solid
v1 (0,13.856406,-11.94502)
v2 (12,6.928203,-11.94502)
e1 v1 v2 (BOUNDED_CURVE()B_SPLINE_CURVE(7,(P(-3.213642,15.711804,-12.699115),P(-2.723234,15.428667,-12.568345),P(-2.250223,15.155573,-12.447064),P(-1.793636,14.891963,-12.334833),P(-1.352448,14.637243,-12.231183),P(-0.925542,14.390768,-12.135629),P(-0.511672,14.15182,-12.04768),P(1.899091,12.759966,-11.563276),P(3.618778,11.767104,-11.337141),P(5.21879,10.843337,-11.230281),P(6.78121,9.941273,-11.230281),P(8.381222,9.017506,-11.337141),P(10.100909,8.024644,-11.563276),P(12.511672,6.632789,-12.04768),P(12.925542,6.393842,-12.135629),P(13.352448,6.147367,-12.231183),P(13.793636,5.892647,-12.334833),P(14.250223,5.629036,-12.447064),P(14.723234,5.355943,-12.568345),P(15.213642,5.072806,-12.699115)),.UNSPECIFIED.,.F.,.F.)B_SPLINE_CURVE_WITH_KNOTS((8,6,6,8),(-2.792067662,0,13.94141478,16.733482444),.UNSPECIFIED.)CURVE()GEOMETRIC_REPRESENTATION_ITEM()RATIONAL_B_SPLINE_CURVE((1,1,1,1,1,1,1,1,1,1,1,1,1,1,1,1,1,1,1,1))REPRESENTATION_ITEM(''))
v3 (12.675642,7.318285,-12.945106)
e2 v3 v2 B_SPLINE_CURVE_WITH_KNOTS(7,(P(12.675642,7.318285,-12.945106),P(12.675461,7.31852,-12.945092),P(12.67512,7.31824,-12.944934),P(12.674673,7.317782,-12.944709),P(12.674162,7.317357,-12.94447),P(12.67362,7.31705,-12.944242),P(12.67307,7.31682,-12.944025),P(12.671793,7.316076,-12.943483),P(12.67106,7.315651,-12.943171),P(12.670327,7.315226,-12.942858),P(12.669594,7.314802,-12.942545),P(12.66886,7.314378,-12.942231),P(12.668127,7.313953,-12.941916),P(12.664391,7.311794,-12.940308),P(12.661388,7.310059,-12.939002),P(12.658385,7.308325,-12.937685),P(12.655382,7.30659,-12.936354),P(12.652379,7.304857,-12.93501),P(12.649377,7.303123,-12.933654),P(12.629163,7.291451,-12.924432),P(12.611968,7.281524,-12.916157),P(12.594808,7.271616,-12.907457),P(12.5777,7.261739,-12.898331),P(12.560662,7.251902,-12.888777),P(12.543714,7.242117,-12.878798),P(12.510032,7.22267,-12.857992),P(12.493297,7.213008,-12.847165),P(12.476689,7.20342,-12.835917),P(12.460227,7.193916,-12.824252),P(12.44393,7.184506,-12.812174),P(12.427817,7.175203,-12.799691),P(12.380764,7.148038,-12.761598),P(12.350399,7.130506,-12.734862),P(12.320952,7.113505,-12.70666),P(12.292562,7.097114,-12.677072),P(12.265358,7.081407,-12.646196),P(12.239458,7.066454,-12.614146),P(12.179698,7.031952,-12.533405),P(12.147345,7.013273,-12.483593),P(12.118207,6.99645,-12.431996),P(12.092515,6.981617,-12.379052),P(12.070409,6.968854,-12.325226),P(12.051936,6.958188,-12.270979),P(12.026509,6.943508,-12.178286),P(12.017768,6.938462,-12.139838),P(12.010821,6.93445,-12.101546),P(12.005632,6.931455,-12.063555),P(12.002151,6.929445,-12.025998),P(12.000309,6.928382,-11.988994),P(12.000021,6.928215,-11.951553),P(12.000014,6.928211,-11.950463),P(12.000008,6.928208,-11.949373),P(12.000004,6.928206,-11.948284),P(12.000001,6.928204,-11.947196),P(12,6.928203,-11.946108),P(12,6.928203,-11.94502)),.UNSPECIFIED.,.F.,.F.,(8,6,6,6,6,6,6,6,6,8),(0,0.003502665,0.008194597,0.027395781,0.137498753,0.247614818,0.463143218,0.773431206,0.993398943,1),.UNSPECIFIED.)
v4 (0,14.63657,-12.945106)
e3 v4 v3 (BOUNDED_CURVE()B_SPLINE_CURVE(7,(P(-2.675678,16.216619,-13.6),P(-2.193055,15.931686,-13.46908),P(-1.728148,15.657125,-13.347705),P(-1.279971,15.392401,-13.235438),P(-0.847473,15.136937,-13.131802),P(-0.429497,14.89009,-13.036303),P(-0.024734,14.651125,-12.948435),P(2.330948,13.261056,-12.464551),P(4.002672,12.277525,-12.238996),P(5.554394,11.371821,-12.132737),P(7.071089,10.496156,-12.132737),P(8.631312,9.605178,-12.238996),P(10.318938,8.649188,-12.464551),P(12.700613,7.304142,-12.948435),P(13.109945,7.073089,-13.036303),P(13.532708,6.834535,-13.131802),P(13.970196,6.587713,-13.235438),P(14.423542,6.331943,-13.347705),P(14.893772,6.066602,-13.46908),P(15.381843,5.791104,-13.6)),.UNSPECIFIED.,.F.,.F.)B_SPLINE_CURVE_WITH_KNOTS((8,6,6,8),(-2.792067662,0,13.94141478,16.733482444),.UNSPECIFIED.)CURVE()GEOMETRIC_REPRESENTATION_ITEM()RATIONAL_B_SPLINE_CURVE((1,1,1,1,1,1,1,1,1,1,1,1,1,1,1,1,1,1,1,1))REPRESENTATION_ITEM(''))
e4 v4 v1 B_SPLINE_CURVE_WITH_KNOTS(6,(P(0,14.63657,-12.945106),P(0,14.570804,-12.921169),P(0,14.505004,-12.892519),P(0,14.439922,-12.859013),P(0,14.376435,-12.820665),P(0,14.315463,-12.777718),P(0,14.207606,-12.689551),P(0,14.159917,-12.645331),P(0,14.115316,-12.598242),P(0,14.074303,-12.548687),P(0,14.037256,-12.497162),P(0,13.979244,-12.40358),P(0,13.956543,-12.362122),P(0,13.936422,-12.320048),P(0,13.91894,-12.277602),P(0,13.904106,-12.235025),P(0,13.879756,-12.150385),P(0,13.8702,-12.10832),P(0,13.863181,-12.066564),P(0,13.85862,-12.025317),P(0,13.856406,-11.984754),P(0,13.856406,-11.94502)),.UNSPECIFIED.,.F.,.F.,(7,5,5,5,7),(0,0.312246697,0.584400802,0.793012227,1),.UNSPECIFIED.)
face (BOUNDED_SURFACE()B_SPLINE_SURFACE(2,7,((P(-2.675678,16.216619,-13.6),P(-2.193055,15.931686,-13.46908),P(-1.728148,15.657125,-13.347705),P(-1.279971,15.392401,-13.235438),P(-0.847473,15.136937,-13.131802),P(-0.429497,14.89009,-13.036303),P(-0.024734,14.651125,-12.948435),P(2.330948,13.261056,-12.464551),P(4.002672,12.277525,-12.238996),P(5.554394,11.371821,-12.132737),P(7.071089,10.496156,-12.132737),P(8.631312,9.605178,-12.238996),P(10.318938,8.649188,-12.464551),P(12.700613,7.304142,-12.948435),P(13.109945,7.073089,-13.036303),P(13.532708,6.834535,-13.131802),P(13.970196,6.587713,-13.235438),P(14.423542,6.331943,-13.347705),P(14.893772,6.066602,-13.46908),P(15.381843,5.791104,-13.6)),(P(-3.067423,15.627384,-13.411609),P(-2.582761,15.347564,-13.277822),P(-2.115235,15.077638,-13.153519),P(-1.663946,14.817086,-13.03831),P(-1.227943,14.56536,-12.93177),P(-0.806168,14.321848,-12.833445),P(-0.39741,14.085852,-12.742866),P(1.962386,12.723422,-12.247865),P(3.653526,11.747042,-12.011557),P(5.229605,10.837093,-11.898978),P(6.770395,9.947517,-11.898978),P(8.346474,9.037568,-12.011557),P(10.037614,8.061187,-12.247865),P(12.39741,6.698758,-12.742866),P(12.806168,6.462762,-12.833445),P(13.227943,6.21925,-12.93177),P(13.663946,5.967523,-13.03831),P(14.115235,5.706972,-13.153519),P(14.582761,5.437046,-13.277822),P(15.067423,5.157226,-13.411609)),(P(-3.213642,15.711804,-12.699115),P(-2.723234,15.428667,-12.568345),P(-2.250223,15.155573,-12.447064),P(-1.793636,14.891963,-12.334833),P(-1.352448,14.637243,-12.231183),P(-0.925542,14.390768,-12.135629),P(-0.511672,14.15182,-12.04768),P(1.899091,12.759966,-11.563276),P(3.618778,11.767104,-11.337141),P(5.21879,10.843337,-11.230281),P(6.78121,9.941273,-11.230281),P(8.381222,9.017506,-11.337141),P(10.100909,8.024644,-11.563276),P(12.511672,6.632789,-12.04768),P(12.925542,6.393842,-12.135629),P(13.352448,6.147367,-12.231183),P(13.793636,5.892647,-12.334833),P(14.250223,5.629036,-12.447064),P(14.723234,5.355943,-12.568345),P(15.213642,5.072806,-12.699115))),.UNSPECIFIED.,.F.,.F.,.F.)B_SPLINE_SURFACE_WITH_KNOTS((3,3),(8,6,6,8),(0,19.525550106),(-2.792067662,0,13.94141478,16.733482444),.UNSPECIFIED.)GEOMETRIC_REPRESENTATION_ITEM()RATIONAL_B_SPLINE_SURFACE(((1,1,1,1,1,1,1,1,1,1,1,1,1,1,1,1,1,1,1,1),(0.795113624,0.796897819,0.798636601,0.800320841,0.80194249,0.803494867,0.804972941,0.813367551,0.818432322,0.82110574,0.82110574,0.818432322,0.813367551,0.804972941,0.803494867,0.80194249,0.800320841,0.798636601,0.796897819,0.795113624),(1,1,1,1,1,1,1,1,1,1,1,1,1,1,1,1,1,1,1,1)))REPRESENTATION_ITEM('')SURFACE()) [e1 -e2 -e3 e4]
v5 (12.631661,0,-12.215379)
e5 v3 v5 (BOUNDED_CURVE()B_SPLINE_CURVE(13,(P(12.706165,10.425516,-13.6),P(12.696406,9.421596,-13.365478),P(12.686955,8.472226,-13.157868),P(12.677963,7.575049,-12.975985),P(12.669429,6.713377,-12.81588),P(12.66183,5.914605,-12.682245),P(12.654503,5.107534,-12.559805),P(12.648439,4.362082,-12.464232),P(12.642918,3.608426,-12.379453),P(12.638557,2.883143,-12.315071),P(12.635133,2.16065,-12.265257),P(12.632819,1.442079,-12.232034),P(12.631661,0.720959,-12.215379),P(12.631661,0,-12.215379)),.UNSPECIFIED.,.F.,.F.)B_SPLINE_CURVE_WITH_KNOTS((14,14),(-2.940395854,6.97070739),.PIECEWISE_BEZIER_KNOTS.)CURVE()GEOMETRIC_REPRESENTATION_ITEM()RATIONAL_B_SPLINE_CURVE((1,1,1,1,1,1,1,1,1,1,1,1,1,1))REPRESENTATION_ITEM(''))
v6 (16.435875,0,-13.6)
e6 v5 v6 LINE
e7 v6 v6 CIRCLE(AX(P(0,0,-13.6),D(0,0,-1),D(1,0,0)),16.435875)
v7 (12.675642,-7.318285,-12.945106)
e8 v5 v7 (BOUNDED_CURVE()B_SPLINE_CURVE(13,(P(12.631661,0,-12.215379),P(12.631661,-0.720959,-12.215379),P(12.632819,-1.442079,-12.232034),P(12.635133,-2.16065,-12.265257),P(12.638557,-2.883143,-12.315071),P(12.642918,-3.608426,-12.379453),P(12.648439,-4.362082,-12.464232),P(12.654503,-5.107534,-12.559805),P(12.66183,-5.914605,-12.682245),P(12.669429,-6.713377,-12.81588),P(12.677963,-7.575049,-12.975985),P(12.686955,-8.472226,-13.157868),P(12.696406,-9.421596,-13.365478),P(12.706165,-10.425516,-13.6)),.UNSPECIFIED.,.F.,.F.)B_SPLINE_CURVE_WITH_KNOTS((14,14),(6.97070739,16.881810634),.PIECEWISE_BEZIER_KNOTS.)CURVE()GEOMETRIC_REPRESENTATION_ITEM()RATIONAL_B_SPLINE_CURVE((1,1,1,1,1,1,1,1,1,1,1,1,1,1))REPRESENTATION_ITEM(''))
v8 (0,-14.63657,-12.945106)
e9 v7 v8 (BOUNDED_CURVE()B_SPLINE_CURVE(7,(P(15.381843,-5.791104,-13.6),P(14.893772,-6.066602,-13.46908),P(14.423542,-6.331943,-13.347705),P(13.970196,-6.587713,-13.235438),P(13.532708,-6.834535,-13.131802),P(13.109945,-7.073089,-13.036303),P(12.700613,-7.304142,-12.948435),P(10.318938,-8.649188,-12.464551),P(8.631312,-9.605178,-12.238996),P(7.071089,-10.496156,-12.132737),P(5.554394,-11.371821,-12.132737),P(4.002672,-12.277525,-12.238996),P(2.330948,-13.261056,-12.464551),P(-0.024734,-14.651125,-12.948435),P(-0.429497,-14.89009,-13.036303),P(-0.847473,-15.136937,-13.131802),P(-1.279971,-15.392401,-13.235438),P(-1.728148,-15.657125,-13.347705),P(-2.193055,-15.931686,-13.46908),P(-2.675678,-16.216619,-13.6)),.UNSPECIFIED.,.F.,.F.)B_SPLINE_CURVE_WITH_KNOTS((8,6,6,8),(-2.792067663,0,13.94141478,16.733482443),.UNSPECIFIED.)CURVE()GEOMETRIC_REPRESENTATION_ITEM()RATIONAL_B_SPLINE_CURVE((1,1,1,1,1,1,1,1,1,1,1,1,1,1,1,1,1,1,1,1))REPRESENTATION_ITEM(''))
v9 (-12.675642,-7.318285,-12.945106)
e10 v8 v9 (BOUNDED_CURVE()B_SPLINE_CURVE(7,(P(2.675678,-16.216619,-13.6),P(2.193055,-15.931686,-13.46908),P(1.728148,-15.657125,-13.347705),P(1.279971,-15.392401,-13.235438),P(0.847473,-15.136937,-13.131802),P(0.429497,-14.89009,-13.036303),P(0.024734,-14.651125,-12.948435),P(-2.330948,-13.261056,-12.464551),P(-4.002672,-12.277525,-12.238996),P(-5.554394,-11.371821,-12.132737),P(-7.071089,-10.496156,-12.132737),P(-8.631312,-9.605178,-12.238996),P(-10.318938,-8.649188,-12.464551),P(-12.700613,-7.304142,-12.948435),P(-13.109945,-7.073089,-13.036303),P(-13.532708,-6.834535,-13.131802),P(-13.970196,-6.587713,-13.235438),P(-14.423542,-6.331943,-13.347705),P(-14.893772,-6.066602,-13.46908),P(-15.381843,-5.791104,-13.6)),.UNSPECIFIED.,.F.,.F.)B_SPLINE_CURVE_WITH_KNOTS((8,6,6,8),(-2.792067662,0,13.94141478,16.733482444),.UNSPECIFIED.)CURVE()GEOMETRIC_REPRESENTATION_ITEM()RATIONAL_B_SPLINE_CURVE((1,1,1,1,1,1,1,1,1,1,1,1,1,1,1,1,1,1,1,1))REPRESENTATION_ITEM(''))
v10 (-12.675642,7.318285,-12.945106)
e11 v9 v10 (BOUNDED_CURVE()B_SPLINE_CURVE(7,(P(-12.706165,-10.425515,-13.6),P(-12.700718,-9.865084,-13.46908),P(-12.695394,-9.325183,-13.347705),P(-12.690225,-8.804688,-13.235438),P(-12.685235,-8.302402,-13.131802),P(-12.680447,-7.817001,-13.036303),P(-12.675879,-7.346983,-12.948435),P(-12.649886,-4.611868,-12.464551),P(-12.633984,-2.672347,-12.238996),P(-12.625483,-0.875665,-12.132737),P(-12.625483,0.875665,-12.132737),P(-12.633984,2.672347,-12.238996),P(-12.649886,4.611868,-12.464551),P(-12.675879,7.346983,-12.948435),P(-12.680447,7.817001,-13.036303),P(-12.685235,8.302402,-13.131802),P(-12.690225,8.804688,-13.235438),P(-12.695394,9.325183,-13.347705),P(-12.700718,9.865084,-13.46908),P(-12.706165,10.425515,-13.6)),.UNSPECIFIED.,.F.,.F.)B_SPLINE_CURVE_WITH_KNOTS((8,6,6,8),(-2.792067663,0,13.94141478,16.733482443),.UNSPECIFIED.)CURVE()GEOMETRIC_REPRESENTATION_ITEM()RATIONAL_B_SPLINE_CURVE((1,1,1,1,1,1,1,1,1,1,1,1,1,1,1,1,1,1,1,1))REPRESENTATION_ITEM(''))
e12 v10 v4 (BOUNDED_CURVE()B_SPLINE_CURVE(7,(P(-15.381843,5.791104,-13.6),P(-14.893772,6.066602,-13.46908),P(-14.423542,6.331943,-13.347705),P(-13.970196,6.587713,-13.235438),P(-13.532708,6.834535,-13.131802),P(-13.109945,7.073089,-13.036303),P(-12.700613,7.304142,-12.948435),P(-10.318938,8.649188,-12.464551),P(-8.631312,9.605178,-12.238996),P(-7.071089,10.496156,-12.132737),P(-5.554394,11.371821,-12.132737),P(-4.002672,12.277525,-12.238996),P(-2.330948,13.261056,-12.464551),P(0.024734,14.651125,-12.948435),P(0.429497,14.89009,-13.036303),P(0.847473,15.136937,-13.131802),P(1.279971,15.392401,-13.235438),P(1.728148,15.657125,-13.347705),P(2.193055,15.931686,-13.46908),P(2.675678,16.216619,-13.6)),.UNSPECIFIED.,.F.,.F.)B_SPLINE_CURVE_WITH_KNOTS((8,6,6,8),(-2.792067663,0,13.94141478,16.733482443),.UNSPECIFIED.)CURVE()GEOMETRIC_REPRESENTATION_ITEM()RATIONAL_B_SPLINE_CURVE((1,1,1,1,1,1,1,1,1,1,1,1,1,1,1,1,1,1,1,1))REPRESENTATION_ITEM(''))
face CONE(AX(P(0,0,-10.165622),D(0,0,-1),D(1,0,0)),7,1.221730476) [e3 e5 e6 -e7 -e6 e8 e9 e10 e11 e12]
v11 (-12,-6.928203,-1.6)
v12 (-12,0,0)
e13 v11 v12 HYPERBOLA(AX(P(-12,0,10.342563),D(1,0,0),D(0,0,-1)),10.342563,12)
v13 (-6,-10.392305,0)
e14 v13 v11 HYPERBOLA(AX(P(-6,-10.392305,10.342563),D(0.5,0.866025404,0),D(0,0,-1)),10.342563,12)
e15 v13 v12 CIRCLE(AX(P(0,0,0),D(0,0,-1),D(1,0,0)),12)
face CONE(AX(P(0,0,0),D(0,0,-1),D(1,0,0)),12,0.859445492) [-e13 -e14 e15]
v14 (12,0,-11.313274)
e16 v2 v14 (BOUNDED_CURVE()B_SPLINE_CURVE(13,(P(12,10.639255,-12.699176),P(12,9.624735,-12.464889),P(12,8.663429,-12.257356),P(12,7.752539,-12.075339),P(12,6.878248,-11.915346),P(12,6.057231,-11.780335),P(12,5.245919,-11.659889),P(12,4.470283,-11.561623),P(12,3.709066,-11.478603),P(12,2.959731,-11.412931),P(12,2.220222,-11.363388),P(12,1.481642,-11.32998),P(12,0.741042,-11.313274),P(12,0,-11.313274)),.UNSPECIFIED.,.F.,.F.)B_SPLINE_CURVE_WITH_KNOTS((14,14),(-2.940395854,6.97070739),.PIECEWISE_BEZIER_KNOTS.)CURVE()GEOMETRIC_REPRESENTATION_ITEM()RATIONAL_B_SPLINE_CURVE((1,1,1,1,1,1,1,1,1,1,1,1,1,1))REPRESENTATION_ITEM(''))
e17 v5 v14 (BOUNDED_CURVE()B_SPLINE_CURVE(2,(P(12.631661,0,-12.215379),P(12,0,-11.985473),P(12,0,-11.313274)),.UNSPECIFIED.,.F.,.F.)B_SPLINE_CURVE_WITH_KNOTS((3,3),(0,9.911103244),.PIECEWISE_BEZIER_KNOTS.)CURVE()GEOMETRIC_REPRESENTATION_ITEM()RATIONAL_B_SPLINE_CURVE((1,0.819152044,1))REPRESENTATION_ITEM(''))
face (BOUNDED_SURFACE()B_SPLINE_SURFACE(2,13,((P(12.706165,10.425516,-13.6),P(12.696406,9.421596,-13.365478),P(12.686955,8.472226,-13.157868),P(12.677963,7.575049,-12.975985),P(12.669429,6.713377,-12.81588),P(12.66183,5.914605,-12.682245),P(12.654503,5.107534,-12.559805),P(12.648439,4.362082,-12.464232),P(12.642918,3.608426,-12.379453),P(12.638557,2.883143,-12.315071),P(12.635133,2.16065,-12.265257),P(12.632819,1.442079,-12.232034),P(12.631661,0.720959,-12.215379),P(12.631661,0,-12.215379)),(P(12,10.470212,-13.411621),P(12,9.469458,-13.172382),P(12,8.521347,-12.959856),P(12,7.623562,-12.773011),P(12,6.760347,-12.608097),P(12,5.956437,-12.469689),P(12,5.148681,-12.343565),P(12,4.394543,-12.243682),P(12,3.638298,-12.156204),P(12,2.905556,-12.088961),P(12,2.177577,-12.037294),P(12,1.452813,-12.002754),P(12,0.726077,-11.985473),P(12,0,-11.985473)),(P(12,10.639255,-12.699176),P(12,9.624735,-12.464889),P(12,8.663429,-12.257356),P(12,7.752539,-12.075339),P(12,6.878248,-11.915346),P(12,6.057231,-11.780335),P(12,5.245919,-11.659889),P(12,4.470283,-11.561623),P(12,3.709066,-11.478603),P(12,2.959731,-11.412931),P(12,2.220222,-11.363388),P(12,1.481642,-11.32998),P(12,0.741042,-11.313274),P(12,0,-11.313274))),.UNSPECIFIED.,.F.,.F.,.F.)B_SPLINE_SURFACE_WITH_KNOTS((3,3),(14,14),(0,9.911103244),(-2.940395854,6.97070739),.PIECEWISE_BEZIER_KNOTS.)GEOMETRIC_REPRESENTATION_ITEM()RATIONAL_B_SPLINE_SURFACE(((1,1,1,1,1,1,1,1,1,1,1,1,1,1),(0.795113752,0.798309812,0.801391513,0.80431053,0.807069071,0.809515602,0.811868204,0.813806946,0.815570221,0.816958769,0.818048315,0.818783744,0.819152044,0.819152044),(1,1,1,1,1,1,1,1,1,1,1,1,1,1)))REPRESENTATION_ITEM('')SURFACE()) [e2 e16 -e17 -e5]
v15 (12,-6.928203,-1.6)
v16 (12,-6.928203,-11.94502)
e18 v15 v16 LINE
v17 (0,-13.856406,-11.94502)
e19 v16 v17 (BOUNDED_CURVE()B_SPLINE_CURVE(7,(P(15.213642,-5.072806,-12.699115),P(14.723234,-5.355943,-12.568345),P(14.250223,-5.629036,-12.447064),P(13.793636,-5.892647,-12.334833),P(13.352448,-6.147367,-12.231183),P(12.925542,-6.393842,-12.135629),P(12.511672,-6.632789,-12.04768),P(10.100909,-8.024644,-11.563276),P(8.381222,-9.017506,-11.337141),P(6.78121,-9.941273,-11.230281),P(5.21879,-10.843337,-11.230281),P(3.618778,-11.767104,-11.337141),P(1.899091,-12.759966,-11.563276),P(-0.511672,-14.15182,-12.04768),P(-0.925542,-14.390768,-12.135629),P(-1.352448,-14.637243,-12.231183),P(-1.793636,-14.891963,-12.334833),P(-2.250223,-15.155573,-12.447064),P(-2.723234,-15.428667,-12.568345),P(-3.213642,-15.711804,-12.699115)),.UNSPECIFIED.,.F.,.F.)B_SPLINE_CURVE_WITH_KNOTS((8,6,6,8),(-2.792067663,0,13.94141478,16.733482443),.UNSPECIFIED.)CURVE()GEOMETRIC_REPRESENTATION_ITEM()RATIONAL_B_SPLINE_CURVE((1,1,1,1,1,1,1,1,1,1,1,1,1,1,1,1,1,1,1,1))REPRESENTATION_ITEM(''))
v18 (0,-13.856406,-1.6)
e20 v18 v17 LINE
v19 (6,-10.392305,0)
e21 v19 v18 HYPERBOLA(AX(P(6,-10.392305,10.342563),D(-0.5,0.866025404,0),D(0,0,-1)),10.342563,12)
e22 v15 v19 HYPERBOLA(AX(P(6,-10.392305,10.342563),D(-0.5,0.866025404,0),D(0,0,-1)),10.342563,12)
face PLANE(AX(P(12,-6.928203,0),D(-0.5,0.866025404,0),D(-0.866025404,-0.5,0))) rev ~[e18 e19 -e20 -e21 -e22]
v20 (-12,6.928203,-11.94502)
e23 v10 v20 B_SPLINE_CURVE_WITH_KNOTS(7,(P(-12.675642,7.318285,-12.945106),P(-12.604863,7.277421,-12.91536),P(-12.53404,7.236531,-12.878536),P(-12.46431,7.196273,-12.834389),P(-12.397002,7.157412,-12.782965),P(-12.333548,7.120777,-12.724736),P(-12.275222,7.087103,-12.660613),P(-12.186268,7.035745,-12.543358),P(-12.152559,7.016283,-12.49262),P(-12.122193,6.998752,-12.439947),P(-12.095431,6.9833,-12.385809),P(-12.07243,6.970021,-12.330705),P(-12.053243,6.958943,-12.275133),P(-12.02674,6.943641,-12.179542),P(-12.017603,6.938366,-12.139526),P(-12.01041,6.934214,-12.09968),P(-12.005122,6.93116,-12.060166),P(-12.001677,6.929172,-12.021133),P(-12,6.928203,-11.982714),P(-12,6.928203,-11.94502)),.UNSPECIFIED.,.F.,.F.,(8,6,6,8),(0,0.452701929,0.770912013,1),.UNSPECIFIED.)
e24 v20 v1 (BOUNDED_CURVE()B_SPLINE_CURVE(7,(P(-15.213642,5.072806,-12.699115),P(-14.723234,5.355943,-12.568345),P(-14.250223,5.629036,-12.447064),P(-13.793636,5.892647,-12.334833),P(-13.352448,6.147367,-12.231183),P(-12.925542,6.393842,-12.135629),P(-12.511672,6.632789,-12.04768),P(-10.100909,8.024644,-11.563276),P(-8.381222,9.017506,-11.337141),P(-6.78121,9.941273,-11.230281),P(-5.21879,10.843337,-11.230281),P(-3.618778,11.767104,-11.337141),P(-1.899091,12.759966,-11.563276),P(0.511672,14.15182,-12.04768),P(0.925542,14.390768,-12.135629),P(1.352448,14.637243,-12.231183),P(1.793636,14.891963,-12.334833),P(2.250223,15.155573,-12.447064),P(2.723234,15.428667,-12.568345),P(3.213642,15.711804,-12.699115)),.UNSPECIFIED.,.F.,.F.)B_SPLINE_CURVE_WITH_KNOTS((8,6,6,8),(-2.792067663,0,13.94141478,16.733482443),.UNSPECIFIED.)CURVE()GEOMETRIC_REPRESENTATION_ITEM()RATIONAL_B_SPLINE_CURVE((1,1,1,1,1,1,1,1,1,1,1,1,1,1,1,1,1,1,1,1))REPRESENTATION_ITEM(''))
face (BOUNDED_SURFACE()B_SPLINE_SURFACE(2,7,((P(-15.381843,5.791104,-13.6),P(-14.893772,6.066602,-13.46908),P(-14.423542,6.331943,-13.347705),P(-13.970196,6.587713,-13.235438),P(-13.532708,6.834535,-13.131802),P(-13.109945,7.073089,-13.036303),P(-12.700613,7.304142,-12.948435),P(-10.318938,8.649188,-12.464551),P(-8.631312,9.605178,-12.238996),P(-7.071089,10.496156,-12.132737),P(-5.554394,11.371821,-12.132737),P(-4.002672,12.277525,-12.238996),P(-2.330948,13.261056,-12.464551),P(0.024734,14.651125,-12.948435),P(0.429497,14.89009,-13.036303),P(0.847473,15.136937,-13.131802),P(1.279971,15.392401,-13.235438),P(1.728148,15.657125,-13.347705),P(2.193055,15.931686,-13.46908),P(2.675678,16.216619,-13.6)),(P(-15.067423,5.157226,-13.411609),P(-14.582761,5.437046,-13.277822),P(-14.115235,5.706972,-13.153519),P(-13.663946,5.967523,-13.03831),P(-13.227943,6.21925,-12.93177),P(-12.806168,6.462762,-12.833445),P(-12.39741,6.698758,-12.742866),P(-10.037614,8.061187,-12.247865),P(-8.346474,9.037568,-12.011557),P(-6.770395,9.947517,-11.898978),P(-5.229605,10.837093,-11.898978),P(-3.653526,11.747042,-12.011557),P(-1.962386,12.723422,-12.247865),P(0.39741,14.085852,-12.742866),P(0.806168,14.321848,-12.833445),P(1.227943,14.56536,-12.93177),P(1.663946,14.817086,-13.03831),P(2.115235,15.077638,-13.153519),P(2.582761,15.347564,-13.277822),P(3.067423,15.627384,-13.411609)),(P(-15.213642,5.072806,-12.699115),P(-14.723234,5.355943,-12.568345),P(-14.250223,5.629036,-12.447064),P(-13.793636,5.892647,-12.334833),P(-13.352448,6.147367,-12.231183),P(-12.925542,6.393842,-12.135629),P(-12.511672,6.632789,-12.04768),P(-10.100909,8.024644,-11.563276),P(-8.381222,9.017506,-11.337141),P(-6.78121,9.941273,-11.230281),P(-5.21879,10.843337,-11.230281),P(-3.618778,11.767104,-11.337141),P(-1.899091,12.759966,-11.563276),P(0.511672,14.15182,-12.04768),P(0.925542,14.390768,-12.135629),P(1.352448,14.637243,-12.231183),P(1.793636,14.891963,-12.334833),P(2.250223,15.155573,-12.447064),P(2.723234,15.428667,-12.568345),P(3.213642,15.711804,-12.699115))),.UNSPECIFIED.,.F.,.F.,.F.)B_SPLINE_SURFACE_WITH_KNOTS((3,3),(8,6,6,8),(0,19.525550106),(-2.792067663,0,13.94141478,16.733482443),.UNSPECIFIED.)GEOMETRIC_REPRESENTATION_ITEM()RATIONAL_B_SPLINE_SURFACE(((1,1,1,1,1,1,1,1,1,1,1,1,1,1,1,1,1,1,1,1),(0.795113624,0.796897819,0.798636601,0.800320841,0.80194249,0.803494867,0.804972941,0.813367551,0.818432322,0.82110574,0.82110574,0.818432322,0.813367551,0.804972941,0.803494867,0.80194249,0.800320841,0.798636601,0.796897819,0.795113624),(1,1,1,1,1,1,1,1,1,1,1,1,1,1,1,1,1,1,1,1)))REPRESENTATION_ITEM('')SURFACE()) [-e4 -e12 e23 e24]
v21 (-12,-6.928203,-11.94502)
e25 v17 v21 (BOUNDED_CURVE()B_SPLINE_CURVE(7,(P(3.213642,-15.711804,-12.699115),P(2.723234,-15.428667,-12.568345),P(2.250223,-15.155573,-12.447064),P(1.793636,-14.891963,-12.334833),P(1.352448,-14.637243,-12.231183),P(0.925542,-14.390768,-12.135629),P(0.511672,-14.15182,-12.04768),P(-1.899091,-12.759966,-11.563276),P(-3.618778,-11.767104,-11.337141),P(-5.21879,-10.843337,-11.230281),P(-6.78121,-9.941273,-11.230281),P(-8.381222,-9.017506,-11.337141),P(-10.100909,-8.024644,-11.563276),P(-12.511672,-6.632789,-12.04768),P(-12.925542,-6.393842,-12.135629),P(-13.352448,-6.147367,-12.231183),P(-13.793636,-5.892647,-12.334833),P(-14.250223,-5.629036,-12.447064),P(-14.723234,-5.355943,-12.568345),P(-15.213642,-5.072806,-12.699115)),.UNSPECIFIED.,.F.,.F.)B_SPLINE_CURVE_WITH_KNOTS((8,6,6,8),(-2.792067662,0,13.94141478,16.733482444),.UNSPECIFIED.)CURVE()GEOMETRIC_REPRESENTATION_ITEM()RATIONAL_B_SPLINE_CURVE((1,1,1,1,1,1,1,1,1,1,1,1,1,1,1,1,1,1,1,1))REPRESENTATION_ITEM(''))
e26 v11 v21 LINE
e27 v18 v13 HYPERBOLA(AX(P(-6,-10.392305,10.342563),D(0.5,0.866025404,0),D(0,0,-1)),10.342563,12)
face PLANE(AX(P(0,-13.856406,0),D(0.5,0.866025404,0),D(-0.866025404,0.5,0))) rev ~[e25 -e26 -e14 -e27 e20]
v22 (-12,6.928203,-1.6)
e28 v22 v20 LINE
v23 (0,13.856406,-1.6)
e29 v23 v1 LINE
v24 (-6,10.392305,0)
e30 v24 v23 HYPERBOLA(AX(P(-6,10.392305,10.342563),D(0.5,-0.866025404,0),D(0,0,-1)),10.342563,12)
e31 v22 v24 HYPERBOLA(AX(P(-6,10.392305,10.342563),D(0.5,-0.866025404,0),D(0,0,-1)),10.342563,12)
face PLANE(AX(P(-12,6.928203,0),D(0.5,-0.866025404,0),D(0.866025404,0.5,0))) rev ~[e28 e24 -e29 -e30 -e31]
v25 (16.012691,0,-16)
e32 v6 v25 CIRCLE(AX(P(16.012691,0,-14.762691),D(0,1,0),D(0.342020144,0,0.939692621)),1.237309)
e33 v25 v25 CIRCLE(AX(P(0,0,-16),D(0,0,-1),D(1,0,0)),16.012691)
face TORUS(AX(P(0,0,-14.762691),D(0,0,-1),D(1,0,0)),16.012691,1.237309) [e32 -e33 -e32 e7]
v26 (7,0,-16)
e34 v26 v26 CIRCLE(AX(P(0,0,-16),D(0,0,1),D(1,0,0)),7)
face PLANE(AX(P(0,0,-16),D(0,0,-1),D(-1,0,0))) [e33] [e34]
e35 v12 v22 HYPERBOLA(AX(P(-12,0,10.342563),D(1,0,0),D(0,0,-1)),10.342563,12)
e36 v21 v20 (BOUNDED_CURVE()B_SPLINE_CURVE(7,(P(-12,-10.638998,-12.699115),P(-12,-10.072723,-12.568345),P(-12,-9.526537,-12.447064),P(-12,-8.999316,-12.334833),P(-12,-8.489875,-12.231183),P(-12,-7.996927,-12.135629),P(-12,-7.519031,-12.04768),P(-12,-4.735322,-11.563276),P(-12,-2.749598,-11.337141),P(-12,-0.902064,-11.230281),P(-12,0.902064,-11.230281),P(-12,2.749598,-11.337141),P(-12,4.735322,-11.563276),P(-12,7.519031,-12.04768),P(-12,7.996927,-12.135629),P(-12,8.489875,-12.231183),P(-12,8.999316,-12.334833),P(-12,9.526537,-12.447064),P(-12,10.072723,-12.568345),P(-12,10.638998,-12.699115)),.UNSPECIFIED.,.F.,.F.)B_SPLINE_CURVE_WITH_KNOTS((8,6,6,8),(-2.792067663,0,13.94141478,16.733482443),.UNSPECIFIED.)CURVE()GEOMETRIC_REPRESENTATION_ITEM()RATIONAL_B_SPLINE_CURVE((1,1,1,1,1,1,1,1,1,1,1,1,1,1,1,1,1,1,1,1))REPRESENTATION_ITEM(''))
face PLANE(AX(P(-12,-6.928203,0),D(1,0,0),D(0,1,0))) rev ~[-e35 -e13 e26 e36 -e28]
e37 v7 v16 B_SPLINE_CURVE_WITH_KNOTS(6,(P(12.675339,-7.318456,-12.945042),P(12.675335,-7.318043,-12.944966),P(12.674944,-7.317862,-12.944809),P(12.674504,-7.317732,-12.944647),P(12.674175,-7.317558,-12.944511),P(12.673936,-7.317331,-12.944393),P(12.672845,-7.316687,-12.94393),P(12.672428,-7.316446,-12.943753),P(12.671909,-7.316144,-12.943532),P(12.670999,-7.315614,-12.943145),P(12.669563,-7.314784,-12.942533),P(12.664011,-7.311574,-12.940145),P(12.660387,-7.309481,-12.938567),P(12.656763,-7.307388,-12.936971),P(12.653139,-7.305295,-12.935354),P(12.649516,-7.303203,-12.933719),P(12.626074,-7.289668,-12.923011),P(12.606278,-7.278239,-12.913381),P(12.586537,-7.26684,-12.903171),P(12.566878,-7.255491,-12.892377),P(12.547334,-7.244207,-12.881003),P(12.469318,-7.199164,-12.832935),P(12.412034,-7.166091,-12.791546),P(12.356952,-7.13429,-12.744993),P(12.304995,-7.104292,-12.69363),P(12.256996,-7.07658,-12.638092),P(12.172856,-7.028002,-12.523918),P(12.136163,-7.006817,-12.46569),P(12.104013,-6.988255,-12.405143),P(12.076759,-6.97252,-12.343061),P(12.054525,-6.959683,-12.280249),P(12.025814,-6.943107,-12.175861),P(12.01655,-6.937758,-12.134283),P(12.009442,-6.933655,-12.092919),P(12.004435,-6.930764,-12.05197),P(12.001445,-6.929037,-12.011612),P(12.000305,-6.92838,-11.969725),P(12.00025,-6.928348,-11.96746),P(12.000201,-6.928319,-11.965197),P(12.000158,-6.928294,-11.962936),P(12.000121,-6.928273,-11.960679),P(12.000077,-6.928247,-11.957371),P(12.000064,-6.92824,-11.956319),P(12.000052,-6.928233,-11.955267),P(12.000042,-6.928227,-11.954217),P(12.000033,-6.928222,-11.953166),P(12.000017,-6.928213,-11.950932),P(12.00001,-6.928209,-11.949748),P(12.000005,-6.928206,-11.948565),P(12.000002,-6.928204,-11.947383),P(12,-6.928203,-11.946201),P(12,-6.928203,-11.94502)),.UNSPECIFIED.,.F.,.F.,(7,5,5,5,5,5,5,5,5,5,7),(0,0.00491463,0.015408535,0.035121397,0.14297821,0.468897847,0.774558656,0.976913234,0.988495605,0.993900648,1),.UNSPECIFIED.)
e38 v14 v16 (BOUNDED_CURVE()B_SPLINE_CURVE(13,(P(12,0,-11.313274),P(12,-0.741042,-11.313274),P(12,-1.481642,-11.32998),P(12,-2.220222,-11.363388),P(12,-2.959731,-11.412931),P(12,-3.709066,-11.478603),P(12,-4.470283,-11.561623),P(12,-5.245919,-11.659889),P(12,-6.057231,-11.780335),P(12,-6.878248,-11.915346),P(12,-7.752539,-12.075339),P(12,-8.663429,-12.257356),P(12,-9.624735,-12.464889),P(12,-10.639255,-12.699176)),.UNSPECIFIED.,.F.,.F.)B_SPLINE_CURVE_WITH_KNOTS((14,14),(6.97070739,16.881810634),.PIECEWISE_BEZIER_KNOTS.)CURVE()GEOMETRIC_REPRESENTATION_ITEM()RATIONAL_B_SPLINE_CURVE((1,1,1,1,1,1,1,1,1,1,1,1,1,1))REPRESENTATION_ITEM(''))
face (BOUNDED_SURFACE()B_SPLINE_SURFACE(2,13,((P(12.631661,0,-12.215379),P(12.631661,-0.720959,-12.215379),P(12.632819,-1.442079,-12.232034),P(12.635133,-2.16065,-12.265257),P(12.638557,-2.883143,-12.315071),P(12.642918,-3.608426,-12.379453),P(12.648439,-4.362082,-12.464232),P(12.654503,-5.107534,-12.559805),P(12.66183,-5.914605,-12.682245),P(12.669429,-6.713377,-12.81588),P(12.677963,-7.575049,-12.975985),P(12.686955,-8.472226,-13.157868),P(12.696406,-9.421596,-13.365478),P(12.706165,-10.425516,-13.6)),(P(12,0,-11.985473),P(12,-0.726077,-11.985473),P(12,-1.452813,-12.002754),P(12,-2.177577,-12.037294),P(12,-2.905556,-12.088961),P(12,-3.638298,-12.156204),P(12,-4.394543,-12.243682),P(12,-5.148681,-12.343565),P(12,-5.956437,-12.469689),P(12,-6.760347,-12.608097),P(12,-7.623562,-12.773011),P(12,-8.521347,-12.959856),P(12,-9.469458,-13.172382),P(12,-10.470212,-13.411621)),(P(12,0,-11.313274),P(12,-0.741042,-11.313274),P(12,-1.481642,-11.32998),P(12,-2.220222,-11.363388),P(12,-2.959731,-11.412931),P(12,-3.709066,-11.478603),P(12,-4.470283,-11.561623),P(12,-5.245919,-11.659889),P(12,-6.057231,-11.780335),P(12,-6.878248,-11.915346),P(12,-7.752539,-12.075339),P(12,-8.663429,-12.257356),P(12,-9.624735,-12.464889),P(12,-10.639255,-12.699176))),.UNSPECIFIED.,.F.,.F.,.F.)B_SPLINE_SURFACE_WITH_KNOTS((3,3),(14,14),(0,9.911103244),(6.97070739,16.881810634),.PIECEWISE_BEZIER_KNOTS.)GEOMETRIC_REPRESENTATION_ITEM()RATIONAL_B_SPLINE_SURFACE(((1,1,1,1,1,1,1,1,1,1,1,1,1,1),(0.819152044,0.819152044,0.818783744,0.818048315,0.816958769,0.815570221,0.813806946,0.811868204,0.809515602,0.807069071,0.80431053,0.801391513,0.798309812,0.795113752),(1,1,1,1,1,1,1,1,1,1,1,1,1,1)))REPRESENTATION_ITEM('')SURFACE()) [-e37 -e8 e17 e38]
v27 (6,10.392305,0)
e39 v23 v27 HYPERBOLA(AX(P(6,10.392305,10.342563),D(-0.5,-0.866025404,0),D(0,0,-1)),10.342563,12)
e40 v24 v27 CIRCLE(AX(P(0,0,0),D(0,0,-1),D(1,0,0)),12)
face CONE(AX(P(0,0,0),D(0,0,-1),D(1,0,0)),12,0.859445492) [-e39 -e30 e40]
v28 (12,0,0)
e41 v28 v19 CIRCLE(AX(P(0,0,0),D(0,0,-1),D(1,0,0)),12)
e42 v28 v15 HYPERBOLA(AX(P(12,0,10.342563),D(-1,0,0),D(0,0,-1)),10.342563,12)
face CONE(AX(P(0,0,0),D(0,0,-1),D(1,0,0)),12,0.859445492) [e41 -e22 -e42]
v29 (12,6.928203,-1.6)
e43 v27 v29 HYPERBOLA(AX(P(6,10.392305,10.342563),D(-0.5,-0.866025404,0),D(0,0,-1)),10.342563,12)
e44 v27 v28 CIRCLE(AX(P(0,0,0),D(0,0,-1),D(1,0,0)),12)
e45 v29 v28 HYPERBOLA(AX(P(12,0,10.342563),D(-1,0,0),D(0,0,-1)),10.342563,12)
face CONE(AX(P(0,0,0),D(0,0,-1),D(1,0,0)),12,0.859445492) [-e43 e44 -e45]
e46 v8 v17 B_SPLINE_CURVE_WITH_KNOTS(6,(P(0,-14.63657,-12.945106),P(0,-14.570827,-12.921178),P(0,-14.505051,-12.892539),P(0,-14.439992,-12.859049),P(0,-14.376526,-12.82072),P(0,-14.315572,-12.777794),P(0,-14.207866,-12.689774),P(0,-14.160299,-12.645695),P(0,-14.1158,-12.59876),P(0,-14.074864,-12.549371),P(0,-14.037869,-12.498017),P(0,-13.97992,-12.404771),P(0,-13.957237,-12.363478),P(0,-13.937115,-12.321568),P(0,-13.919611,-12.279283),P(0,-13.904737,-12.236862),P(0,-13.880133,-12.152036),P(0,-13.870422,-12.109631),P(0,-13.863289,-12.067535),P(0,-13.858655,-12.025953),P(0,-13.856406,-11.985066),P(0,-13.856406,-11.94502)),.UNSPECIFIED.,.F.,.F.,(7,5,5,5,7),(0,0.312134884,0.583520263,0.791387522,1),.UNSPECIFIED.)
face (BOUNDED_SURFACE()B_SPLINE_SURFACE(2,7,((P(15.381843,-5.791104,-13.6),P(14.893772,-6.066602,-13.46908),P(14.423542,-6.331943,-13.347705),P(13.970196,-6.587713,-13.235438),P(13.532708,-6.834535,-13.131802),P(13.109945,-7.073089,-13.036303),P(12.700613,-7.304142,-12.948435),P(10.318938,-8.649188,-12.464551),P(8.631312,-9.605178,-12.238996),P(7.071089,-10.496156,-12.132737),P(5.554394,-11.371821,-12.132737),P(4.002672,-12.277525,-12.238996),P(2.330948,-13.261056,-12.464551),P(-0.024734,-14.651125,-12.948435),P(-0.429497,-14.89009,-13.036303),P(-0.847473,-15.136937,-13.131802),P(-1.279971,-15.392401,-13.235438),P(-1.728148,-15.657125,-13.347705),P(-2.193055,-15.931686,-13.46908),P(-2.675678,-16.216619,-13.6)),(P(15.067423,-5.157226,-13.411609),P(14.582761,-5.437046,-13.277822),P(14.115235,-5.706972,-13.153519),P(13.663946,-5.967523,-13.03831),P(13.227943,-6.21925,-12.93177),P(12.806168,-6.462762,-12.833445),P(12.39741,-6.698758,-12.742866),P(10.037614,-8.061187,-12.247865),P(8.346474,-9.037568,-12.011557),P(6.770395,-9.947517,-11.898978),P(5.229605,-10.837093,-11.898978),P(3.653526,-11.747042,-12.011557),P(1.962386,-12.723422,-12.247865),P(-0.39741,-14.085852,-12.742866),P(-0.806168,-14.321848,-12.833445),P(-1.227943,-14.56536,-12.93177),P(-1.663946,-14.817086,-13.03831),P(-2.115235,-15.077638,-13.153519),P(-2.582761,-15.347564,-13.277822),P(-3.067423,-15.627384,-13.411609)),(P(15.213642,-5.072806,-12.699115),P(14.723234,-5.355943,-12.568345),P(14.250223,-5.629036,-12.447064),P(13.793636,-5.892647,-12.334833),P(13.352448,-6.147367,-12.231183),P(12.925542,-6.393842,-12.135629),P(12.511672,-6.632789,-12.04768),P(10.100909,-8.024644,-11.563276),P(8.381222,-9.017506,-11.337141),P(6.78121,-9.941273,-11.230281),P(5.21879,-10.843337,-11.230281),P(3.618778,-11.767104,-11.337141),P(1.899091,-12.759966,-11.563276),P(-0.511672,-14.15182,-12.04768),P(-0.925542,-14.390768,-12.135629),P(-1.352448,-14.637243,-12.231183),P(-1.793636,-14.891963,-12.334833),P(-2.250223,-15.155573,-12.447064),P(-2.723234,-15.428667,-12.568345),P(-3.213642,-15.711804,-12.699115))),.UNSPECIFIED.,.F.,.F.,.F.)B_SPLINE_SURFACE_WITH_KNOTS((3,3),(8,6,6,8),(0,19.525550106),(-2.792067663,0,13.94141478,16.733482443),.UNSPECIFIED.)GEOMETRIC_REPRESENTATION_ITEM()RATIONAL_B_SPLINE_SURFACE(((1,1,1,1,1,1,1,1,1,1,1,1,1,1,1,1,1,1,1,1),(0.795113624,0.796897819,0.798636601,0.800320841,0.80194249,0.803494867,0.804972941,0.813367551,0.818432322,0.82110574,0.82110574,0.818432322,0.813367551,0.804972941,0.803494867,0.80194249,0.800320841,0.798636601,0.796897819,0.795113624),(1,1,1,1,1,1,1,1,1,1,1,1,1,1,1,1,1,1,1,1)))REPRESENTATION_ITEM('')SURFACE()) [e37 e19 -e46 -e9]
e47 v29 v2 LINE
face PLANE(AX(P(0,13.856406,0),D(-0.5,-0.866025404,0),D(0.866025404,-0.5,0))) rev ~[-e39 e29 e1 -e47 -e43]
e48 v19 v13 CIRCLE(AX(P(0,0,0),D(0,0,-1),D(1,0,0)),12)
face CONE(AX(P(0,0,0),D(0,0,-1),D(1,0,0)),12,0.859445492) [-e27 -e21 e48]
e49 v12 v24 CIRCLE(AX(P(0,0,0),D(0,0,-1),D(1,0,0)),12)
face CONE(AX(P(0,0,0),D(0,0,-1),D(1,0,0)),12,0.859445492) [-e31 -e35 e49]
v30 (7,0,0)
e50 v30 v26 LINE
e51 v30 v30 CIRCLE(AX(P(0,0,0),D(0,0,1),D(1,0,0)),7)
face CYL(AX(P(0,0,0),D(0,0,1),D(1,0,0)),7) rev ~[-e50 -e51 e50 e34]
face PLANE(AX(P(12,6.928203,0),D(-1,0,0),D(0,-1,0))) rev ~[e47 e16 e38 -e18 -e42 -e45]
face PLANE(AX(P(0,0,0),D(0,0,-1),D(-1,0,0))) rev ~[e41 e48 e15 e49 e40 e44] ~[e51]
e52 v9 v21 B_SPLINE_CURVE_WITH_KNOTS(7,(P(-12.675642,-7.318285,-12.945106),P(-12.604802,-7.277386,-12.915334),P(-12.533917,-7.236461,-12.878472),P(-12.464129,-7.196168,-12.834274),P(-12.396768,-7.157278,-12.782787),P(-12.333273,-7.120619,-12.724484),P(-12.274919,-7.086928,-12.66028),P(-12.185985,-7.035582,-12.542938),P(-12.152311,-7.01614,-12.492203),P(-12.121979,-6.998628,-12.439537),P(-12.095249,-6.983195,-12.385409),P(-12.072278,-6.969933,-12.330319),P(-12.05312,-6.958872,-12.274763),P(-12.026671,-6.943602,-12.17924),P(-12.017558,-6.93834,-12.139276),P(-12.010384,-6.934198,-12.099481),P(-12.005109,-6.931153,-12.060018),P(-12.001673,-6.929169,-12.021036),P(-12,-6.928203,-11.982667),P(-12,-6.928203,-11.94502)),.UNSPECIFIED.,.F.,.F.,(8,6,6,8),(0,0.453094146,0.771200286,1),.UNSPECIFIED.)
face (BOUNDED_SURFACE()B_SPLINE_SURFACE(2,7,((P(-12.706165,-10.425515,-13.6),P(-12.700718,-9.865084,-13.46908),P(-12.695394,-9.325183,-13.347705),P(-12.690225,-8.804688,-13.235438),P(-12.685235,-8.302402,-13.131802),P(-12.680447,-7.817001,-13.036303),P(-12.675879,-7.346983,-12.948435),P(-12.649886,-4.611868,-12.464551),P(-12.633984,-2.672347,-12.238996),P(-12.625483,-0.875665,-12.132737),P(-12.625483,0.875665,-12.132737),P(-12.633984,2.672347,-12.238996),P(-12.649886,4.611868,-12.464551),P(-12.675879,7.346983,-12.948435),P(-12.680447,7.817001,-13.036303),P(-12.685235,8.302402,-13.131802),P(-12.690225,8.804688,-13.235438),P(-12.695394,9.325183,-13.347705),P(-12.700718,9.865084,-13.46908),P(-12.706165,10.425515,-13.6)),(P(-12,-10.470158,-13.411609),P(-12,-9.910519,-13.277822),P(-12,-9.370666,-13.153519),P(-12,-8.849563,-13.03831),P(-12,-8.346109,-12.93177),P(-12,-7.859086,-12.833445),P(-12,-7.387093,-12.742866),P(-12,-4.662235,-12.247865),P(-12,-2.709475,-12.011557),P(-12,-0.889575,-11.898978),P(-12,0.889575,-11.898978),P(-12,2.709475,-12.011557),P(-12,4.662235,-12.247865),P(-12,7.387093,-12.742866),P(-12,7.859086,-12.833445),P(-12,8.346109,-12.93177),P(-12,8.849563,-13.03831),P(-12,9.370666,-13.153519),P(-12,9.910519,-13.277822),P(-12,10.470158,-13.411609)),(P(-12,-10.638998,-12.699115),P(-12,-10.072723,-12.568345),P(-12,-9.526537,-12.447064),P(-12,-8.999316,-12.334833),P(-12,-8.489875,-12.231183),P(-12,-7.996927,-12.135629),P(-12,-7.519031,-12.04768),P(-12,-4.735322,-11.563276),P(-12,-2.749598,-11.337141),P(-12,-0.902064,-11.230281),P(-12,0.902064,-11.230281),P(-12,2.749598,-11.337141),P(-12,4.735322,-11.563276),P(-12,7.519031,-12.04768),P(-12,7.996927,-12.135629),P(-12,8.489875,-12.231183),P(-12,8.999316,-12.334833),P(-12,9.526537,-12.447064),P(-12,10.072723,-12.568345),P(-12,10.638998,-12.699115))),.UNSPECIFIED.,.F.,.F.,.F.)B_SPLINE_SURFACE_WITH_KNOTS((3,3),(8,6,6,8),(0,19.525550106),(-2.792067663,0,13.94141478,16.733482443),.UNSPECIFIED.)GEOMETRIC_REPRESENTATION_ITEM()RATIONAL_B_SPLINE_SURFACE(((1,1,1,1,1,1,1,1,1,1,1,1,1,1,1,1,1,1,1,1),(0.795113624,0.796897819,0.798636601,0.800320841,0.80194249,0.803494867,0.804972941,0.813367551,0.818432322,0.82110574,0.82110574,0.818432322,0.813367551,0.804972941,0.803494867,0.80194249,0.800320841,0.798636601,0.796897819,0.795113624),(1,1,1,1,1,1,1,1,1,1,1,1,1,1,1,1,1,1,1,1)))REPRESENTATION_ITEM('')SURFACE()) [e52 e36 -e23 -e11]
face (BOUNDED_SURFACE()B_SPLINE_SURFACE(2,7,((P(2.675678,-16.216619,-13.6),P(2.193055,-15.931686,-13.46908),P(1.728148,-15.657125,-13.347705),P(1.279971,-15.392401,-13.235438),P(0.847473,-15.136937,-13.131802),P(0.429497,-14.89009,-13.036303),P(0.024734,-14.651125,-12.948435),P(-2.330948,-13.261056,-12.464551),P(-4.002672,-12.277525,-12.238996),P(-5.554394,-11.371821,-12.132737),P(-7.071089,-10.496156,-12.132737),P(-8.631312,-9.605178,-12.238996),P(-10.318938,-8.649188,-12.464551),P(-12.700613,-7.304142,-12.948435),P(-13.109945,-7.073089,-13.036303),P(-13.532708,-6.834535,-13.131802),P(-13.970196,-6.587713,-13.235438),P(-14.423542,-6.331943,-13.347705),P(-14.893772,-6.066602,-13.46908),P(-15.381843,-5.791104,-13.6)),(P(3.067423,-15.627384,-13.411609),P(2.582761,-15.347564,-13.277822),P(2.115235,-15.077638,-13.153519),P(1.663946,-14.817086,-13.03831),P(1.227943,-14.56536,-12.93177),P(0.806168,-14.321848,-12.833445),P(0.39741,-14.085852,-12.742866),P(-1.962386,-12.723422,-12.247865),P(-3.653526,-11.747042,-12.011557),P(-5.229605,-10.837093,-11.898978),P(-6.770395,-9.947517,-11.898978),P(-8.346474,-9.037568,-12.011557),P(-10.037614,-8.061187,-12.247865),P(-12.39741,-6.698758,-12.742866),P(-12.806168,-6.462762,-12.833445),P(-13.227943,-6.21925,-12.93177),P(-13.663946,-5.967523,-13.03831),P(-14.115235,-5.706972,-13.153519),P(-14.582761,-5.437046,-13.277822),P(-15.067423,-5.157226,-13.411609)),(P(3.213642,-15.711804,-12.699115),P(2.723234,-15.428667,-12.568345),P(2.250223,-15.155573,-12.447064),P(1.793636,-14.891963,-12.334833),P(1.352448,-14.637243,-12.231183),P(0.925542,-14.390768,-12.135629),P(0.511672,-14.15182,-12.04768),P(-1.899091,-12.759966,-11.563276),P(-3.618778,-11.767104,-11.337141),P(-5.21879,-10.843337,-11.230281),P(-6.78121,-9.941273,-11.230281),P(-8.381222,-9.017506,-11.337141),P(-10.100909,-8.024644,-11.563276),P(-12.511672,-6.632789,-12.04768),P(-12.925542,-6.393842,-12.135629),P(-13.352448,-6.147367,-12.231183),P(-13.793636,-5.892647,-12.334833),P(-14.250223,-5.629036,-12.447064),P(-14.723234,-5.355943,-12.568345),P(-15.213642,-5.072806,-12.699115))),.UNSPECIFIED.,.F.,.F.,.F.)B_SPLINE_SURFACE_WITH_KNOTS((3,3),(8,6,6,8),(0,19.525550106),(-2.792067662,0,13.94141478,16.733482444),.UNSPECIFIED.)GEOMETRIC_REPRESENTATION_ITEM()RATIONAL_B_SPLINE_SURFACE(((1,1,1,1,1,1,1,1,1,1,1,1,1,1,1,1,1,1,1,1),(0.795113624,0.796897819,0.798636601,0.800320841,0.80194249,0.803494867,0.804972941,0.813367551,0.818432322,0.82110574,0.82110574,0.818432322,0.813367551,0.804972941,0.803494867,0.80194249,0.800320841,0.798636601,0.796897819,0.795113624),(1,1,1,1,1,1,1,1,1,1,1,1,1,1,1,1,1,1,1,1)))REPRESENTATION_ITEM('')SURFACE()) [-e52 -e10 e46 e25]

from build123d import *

# Parameters (mm, degrees)
BASENUTSKE_R   = 7
BASENUT_DEPTH  = 16
FLANGEFILLET_R = 0.96


with BuildPart() as part:
    # BaseNutSke → BaseNut (new body)
    with BuildSketch(Plane.XY):
        Polygon((12, 6.92820323), (12, -6.92820323), (0, -13.856406461), (-12, -6.92820323), (-12, 6.92820323), (0, 13.856406461), align=None)
        Circle(BASENUTSKE_R, mode=Mode.SUBTRACT)
    extrude(amount=-BASENUT_DEPTH)

    # Sketch6 → Flange (revolve)
    with BuildSketch(Plane(origin=(0, 0, 0), x_dir=(0, 0, -1), z_dir=(1, 0, 0)), mode=Mode.PRIVATE) as flange_sk:
        with BuildLine():
            Line((10.165622253, 7), (13.6, 16.435875309))
            ThreePointArc((13.6, 16.435875309), (14.977547085, 17.231202489), (16, 16.012690555))
            Line((16, 16.012690555), (16, 7))
            Line((16, 7), (10.165622253, 7))
        make_face()
    revolve(flange_sk.sketch.rotate(Axis((0, 0, 0), (0, 0, -1)), 90), axis=Axis((0, 0, 0), (0, 0, -1)))

    # Sketch3 → Double-Chamfer (revolve, cut)
    with BuildSketch(Plane(origin=(0, 0, 0), x_dir=(0, 0, -1), z_dir=(1, 0, 0)), mode=Mode.PRIVATE) as double_chamfer_sk:
        Polygon((1.6, 26.556406461), (-12.7, 26.556406461), (-12.7, 12), (0, 12), (1.6, 13.856406461), align=None)
    revolve(double_chamfer_sk.sketch.rotate(Axis((0, 0, 0), (0, 0, -1)), 90), axis=Axis((0, 0, 0), (0, 0, -1)), mode=Mode.SUBTRACT)

    # FlangeFillet
    flangefillet_edges = [part.edges().sort_by_distance(p)[0] for p in [
        (12, -3.479213152, -12.16534592),
        (12, 3.479213152, -12.16534592),
        (6, -10.392304845, -11.985473425),
        (6, 10.392304845, -11.985473425),
        (-6, 10.392304845, -11.985473425),
        (-12, 0, -11.985473425),
        (-6, -10.392304845, -11.985473425),
    ]]
    fillet(flangefillet_edges, radius=FLANGEFILLET_R)


solid = part.part
